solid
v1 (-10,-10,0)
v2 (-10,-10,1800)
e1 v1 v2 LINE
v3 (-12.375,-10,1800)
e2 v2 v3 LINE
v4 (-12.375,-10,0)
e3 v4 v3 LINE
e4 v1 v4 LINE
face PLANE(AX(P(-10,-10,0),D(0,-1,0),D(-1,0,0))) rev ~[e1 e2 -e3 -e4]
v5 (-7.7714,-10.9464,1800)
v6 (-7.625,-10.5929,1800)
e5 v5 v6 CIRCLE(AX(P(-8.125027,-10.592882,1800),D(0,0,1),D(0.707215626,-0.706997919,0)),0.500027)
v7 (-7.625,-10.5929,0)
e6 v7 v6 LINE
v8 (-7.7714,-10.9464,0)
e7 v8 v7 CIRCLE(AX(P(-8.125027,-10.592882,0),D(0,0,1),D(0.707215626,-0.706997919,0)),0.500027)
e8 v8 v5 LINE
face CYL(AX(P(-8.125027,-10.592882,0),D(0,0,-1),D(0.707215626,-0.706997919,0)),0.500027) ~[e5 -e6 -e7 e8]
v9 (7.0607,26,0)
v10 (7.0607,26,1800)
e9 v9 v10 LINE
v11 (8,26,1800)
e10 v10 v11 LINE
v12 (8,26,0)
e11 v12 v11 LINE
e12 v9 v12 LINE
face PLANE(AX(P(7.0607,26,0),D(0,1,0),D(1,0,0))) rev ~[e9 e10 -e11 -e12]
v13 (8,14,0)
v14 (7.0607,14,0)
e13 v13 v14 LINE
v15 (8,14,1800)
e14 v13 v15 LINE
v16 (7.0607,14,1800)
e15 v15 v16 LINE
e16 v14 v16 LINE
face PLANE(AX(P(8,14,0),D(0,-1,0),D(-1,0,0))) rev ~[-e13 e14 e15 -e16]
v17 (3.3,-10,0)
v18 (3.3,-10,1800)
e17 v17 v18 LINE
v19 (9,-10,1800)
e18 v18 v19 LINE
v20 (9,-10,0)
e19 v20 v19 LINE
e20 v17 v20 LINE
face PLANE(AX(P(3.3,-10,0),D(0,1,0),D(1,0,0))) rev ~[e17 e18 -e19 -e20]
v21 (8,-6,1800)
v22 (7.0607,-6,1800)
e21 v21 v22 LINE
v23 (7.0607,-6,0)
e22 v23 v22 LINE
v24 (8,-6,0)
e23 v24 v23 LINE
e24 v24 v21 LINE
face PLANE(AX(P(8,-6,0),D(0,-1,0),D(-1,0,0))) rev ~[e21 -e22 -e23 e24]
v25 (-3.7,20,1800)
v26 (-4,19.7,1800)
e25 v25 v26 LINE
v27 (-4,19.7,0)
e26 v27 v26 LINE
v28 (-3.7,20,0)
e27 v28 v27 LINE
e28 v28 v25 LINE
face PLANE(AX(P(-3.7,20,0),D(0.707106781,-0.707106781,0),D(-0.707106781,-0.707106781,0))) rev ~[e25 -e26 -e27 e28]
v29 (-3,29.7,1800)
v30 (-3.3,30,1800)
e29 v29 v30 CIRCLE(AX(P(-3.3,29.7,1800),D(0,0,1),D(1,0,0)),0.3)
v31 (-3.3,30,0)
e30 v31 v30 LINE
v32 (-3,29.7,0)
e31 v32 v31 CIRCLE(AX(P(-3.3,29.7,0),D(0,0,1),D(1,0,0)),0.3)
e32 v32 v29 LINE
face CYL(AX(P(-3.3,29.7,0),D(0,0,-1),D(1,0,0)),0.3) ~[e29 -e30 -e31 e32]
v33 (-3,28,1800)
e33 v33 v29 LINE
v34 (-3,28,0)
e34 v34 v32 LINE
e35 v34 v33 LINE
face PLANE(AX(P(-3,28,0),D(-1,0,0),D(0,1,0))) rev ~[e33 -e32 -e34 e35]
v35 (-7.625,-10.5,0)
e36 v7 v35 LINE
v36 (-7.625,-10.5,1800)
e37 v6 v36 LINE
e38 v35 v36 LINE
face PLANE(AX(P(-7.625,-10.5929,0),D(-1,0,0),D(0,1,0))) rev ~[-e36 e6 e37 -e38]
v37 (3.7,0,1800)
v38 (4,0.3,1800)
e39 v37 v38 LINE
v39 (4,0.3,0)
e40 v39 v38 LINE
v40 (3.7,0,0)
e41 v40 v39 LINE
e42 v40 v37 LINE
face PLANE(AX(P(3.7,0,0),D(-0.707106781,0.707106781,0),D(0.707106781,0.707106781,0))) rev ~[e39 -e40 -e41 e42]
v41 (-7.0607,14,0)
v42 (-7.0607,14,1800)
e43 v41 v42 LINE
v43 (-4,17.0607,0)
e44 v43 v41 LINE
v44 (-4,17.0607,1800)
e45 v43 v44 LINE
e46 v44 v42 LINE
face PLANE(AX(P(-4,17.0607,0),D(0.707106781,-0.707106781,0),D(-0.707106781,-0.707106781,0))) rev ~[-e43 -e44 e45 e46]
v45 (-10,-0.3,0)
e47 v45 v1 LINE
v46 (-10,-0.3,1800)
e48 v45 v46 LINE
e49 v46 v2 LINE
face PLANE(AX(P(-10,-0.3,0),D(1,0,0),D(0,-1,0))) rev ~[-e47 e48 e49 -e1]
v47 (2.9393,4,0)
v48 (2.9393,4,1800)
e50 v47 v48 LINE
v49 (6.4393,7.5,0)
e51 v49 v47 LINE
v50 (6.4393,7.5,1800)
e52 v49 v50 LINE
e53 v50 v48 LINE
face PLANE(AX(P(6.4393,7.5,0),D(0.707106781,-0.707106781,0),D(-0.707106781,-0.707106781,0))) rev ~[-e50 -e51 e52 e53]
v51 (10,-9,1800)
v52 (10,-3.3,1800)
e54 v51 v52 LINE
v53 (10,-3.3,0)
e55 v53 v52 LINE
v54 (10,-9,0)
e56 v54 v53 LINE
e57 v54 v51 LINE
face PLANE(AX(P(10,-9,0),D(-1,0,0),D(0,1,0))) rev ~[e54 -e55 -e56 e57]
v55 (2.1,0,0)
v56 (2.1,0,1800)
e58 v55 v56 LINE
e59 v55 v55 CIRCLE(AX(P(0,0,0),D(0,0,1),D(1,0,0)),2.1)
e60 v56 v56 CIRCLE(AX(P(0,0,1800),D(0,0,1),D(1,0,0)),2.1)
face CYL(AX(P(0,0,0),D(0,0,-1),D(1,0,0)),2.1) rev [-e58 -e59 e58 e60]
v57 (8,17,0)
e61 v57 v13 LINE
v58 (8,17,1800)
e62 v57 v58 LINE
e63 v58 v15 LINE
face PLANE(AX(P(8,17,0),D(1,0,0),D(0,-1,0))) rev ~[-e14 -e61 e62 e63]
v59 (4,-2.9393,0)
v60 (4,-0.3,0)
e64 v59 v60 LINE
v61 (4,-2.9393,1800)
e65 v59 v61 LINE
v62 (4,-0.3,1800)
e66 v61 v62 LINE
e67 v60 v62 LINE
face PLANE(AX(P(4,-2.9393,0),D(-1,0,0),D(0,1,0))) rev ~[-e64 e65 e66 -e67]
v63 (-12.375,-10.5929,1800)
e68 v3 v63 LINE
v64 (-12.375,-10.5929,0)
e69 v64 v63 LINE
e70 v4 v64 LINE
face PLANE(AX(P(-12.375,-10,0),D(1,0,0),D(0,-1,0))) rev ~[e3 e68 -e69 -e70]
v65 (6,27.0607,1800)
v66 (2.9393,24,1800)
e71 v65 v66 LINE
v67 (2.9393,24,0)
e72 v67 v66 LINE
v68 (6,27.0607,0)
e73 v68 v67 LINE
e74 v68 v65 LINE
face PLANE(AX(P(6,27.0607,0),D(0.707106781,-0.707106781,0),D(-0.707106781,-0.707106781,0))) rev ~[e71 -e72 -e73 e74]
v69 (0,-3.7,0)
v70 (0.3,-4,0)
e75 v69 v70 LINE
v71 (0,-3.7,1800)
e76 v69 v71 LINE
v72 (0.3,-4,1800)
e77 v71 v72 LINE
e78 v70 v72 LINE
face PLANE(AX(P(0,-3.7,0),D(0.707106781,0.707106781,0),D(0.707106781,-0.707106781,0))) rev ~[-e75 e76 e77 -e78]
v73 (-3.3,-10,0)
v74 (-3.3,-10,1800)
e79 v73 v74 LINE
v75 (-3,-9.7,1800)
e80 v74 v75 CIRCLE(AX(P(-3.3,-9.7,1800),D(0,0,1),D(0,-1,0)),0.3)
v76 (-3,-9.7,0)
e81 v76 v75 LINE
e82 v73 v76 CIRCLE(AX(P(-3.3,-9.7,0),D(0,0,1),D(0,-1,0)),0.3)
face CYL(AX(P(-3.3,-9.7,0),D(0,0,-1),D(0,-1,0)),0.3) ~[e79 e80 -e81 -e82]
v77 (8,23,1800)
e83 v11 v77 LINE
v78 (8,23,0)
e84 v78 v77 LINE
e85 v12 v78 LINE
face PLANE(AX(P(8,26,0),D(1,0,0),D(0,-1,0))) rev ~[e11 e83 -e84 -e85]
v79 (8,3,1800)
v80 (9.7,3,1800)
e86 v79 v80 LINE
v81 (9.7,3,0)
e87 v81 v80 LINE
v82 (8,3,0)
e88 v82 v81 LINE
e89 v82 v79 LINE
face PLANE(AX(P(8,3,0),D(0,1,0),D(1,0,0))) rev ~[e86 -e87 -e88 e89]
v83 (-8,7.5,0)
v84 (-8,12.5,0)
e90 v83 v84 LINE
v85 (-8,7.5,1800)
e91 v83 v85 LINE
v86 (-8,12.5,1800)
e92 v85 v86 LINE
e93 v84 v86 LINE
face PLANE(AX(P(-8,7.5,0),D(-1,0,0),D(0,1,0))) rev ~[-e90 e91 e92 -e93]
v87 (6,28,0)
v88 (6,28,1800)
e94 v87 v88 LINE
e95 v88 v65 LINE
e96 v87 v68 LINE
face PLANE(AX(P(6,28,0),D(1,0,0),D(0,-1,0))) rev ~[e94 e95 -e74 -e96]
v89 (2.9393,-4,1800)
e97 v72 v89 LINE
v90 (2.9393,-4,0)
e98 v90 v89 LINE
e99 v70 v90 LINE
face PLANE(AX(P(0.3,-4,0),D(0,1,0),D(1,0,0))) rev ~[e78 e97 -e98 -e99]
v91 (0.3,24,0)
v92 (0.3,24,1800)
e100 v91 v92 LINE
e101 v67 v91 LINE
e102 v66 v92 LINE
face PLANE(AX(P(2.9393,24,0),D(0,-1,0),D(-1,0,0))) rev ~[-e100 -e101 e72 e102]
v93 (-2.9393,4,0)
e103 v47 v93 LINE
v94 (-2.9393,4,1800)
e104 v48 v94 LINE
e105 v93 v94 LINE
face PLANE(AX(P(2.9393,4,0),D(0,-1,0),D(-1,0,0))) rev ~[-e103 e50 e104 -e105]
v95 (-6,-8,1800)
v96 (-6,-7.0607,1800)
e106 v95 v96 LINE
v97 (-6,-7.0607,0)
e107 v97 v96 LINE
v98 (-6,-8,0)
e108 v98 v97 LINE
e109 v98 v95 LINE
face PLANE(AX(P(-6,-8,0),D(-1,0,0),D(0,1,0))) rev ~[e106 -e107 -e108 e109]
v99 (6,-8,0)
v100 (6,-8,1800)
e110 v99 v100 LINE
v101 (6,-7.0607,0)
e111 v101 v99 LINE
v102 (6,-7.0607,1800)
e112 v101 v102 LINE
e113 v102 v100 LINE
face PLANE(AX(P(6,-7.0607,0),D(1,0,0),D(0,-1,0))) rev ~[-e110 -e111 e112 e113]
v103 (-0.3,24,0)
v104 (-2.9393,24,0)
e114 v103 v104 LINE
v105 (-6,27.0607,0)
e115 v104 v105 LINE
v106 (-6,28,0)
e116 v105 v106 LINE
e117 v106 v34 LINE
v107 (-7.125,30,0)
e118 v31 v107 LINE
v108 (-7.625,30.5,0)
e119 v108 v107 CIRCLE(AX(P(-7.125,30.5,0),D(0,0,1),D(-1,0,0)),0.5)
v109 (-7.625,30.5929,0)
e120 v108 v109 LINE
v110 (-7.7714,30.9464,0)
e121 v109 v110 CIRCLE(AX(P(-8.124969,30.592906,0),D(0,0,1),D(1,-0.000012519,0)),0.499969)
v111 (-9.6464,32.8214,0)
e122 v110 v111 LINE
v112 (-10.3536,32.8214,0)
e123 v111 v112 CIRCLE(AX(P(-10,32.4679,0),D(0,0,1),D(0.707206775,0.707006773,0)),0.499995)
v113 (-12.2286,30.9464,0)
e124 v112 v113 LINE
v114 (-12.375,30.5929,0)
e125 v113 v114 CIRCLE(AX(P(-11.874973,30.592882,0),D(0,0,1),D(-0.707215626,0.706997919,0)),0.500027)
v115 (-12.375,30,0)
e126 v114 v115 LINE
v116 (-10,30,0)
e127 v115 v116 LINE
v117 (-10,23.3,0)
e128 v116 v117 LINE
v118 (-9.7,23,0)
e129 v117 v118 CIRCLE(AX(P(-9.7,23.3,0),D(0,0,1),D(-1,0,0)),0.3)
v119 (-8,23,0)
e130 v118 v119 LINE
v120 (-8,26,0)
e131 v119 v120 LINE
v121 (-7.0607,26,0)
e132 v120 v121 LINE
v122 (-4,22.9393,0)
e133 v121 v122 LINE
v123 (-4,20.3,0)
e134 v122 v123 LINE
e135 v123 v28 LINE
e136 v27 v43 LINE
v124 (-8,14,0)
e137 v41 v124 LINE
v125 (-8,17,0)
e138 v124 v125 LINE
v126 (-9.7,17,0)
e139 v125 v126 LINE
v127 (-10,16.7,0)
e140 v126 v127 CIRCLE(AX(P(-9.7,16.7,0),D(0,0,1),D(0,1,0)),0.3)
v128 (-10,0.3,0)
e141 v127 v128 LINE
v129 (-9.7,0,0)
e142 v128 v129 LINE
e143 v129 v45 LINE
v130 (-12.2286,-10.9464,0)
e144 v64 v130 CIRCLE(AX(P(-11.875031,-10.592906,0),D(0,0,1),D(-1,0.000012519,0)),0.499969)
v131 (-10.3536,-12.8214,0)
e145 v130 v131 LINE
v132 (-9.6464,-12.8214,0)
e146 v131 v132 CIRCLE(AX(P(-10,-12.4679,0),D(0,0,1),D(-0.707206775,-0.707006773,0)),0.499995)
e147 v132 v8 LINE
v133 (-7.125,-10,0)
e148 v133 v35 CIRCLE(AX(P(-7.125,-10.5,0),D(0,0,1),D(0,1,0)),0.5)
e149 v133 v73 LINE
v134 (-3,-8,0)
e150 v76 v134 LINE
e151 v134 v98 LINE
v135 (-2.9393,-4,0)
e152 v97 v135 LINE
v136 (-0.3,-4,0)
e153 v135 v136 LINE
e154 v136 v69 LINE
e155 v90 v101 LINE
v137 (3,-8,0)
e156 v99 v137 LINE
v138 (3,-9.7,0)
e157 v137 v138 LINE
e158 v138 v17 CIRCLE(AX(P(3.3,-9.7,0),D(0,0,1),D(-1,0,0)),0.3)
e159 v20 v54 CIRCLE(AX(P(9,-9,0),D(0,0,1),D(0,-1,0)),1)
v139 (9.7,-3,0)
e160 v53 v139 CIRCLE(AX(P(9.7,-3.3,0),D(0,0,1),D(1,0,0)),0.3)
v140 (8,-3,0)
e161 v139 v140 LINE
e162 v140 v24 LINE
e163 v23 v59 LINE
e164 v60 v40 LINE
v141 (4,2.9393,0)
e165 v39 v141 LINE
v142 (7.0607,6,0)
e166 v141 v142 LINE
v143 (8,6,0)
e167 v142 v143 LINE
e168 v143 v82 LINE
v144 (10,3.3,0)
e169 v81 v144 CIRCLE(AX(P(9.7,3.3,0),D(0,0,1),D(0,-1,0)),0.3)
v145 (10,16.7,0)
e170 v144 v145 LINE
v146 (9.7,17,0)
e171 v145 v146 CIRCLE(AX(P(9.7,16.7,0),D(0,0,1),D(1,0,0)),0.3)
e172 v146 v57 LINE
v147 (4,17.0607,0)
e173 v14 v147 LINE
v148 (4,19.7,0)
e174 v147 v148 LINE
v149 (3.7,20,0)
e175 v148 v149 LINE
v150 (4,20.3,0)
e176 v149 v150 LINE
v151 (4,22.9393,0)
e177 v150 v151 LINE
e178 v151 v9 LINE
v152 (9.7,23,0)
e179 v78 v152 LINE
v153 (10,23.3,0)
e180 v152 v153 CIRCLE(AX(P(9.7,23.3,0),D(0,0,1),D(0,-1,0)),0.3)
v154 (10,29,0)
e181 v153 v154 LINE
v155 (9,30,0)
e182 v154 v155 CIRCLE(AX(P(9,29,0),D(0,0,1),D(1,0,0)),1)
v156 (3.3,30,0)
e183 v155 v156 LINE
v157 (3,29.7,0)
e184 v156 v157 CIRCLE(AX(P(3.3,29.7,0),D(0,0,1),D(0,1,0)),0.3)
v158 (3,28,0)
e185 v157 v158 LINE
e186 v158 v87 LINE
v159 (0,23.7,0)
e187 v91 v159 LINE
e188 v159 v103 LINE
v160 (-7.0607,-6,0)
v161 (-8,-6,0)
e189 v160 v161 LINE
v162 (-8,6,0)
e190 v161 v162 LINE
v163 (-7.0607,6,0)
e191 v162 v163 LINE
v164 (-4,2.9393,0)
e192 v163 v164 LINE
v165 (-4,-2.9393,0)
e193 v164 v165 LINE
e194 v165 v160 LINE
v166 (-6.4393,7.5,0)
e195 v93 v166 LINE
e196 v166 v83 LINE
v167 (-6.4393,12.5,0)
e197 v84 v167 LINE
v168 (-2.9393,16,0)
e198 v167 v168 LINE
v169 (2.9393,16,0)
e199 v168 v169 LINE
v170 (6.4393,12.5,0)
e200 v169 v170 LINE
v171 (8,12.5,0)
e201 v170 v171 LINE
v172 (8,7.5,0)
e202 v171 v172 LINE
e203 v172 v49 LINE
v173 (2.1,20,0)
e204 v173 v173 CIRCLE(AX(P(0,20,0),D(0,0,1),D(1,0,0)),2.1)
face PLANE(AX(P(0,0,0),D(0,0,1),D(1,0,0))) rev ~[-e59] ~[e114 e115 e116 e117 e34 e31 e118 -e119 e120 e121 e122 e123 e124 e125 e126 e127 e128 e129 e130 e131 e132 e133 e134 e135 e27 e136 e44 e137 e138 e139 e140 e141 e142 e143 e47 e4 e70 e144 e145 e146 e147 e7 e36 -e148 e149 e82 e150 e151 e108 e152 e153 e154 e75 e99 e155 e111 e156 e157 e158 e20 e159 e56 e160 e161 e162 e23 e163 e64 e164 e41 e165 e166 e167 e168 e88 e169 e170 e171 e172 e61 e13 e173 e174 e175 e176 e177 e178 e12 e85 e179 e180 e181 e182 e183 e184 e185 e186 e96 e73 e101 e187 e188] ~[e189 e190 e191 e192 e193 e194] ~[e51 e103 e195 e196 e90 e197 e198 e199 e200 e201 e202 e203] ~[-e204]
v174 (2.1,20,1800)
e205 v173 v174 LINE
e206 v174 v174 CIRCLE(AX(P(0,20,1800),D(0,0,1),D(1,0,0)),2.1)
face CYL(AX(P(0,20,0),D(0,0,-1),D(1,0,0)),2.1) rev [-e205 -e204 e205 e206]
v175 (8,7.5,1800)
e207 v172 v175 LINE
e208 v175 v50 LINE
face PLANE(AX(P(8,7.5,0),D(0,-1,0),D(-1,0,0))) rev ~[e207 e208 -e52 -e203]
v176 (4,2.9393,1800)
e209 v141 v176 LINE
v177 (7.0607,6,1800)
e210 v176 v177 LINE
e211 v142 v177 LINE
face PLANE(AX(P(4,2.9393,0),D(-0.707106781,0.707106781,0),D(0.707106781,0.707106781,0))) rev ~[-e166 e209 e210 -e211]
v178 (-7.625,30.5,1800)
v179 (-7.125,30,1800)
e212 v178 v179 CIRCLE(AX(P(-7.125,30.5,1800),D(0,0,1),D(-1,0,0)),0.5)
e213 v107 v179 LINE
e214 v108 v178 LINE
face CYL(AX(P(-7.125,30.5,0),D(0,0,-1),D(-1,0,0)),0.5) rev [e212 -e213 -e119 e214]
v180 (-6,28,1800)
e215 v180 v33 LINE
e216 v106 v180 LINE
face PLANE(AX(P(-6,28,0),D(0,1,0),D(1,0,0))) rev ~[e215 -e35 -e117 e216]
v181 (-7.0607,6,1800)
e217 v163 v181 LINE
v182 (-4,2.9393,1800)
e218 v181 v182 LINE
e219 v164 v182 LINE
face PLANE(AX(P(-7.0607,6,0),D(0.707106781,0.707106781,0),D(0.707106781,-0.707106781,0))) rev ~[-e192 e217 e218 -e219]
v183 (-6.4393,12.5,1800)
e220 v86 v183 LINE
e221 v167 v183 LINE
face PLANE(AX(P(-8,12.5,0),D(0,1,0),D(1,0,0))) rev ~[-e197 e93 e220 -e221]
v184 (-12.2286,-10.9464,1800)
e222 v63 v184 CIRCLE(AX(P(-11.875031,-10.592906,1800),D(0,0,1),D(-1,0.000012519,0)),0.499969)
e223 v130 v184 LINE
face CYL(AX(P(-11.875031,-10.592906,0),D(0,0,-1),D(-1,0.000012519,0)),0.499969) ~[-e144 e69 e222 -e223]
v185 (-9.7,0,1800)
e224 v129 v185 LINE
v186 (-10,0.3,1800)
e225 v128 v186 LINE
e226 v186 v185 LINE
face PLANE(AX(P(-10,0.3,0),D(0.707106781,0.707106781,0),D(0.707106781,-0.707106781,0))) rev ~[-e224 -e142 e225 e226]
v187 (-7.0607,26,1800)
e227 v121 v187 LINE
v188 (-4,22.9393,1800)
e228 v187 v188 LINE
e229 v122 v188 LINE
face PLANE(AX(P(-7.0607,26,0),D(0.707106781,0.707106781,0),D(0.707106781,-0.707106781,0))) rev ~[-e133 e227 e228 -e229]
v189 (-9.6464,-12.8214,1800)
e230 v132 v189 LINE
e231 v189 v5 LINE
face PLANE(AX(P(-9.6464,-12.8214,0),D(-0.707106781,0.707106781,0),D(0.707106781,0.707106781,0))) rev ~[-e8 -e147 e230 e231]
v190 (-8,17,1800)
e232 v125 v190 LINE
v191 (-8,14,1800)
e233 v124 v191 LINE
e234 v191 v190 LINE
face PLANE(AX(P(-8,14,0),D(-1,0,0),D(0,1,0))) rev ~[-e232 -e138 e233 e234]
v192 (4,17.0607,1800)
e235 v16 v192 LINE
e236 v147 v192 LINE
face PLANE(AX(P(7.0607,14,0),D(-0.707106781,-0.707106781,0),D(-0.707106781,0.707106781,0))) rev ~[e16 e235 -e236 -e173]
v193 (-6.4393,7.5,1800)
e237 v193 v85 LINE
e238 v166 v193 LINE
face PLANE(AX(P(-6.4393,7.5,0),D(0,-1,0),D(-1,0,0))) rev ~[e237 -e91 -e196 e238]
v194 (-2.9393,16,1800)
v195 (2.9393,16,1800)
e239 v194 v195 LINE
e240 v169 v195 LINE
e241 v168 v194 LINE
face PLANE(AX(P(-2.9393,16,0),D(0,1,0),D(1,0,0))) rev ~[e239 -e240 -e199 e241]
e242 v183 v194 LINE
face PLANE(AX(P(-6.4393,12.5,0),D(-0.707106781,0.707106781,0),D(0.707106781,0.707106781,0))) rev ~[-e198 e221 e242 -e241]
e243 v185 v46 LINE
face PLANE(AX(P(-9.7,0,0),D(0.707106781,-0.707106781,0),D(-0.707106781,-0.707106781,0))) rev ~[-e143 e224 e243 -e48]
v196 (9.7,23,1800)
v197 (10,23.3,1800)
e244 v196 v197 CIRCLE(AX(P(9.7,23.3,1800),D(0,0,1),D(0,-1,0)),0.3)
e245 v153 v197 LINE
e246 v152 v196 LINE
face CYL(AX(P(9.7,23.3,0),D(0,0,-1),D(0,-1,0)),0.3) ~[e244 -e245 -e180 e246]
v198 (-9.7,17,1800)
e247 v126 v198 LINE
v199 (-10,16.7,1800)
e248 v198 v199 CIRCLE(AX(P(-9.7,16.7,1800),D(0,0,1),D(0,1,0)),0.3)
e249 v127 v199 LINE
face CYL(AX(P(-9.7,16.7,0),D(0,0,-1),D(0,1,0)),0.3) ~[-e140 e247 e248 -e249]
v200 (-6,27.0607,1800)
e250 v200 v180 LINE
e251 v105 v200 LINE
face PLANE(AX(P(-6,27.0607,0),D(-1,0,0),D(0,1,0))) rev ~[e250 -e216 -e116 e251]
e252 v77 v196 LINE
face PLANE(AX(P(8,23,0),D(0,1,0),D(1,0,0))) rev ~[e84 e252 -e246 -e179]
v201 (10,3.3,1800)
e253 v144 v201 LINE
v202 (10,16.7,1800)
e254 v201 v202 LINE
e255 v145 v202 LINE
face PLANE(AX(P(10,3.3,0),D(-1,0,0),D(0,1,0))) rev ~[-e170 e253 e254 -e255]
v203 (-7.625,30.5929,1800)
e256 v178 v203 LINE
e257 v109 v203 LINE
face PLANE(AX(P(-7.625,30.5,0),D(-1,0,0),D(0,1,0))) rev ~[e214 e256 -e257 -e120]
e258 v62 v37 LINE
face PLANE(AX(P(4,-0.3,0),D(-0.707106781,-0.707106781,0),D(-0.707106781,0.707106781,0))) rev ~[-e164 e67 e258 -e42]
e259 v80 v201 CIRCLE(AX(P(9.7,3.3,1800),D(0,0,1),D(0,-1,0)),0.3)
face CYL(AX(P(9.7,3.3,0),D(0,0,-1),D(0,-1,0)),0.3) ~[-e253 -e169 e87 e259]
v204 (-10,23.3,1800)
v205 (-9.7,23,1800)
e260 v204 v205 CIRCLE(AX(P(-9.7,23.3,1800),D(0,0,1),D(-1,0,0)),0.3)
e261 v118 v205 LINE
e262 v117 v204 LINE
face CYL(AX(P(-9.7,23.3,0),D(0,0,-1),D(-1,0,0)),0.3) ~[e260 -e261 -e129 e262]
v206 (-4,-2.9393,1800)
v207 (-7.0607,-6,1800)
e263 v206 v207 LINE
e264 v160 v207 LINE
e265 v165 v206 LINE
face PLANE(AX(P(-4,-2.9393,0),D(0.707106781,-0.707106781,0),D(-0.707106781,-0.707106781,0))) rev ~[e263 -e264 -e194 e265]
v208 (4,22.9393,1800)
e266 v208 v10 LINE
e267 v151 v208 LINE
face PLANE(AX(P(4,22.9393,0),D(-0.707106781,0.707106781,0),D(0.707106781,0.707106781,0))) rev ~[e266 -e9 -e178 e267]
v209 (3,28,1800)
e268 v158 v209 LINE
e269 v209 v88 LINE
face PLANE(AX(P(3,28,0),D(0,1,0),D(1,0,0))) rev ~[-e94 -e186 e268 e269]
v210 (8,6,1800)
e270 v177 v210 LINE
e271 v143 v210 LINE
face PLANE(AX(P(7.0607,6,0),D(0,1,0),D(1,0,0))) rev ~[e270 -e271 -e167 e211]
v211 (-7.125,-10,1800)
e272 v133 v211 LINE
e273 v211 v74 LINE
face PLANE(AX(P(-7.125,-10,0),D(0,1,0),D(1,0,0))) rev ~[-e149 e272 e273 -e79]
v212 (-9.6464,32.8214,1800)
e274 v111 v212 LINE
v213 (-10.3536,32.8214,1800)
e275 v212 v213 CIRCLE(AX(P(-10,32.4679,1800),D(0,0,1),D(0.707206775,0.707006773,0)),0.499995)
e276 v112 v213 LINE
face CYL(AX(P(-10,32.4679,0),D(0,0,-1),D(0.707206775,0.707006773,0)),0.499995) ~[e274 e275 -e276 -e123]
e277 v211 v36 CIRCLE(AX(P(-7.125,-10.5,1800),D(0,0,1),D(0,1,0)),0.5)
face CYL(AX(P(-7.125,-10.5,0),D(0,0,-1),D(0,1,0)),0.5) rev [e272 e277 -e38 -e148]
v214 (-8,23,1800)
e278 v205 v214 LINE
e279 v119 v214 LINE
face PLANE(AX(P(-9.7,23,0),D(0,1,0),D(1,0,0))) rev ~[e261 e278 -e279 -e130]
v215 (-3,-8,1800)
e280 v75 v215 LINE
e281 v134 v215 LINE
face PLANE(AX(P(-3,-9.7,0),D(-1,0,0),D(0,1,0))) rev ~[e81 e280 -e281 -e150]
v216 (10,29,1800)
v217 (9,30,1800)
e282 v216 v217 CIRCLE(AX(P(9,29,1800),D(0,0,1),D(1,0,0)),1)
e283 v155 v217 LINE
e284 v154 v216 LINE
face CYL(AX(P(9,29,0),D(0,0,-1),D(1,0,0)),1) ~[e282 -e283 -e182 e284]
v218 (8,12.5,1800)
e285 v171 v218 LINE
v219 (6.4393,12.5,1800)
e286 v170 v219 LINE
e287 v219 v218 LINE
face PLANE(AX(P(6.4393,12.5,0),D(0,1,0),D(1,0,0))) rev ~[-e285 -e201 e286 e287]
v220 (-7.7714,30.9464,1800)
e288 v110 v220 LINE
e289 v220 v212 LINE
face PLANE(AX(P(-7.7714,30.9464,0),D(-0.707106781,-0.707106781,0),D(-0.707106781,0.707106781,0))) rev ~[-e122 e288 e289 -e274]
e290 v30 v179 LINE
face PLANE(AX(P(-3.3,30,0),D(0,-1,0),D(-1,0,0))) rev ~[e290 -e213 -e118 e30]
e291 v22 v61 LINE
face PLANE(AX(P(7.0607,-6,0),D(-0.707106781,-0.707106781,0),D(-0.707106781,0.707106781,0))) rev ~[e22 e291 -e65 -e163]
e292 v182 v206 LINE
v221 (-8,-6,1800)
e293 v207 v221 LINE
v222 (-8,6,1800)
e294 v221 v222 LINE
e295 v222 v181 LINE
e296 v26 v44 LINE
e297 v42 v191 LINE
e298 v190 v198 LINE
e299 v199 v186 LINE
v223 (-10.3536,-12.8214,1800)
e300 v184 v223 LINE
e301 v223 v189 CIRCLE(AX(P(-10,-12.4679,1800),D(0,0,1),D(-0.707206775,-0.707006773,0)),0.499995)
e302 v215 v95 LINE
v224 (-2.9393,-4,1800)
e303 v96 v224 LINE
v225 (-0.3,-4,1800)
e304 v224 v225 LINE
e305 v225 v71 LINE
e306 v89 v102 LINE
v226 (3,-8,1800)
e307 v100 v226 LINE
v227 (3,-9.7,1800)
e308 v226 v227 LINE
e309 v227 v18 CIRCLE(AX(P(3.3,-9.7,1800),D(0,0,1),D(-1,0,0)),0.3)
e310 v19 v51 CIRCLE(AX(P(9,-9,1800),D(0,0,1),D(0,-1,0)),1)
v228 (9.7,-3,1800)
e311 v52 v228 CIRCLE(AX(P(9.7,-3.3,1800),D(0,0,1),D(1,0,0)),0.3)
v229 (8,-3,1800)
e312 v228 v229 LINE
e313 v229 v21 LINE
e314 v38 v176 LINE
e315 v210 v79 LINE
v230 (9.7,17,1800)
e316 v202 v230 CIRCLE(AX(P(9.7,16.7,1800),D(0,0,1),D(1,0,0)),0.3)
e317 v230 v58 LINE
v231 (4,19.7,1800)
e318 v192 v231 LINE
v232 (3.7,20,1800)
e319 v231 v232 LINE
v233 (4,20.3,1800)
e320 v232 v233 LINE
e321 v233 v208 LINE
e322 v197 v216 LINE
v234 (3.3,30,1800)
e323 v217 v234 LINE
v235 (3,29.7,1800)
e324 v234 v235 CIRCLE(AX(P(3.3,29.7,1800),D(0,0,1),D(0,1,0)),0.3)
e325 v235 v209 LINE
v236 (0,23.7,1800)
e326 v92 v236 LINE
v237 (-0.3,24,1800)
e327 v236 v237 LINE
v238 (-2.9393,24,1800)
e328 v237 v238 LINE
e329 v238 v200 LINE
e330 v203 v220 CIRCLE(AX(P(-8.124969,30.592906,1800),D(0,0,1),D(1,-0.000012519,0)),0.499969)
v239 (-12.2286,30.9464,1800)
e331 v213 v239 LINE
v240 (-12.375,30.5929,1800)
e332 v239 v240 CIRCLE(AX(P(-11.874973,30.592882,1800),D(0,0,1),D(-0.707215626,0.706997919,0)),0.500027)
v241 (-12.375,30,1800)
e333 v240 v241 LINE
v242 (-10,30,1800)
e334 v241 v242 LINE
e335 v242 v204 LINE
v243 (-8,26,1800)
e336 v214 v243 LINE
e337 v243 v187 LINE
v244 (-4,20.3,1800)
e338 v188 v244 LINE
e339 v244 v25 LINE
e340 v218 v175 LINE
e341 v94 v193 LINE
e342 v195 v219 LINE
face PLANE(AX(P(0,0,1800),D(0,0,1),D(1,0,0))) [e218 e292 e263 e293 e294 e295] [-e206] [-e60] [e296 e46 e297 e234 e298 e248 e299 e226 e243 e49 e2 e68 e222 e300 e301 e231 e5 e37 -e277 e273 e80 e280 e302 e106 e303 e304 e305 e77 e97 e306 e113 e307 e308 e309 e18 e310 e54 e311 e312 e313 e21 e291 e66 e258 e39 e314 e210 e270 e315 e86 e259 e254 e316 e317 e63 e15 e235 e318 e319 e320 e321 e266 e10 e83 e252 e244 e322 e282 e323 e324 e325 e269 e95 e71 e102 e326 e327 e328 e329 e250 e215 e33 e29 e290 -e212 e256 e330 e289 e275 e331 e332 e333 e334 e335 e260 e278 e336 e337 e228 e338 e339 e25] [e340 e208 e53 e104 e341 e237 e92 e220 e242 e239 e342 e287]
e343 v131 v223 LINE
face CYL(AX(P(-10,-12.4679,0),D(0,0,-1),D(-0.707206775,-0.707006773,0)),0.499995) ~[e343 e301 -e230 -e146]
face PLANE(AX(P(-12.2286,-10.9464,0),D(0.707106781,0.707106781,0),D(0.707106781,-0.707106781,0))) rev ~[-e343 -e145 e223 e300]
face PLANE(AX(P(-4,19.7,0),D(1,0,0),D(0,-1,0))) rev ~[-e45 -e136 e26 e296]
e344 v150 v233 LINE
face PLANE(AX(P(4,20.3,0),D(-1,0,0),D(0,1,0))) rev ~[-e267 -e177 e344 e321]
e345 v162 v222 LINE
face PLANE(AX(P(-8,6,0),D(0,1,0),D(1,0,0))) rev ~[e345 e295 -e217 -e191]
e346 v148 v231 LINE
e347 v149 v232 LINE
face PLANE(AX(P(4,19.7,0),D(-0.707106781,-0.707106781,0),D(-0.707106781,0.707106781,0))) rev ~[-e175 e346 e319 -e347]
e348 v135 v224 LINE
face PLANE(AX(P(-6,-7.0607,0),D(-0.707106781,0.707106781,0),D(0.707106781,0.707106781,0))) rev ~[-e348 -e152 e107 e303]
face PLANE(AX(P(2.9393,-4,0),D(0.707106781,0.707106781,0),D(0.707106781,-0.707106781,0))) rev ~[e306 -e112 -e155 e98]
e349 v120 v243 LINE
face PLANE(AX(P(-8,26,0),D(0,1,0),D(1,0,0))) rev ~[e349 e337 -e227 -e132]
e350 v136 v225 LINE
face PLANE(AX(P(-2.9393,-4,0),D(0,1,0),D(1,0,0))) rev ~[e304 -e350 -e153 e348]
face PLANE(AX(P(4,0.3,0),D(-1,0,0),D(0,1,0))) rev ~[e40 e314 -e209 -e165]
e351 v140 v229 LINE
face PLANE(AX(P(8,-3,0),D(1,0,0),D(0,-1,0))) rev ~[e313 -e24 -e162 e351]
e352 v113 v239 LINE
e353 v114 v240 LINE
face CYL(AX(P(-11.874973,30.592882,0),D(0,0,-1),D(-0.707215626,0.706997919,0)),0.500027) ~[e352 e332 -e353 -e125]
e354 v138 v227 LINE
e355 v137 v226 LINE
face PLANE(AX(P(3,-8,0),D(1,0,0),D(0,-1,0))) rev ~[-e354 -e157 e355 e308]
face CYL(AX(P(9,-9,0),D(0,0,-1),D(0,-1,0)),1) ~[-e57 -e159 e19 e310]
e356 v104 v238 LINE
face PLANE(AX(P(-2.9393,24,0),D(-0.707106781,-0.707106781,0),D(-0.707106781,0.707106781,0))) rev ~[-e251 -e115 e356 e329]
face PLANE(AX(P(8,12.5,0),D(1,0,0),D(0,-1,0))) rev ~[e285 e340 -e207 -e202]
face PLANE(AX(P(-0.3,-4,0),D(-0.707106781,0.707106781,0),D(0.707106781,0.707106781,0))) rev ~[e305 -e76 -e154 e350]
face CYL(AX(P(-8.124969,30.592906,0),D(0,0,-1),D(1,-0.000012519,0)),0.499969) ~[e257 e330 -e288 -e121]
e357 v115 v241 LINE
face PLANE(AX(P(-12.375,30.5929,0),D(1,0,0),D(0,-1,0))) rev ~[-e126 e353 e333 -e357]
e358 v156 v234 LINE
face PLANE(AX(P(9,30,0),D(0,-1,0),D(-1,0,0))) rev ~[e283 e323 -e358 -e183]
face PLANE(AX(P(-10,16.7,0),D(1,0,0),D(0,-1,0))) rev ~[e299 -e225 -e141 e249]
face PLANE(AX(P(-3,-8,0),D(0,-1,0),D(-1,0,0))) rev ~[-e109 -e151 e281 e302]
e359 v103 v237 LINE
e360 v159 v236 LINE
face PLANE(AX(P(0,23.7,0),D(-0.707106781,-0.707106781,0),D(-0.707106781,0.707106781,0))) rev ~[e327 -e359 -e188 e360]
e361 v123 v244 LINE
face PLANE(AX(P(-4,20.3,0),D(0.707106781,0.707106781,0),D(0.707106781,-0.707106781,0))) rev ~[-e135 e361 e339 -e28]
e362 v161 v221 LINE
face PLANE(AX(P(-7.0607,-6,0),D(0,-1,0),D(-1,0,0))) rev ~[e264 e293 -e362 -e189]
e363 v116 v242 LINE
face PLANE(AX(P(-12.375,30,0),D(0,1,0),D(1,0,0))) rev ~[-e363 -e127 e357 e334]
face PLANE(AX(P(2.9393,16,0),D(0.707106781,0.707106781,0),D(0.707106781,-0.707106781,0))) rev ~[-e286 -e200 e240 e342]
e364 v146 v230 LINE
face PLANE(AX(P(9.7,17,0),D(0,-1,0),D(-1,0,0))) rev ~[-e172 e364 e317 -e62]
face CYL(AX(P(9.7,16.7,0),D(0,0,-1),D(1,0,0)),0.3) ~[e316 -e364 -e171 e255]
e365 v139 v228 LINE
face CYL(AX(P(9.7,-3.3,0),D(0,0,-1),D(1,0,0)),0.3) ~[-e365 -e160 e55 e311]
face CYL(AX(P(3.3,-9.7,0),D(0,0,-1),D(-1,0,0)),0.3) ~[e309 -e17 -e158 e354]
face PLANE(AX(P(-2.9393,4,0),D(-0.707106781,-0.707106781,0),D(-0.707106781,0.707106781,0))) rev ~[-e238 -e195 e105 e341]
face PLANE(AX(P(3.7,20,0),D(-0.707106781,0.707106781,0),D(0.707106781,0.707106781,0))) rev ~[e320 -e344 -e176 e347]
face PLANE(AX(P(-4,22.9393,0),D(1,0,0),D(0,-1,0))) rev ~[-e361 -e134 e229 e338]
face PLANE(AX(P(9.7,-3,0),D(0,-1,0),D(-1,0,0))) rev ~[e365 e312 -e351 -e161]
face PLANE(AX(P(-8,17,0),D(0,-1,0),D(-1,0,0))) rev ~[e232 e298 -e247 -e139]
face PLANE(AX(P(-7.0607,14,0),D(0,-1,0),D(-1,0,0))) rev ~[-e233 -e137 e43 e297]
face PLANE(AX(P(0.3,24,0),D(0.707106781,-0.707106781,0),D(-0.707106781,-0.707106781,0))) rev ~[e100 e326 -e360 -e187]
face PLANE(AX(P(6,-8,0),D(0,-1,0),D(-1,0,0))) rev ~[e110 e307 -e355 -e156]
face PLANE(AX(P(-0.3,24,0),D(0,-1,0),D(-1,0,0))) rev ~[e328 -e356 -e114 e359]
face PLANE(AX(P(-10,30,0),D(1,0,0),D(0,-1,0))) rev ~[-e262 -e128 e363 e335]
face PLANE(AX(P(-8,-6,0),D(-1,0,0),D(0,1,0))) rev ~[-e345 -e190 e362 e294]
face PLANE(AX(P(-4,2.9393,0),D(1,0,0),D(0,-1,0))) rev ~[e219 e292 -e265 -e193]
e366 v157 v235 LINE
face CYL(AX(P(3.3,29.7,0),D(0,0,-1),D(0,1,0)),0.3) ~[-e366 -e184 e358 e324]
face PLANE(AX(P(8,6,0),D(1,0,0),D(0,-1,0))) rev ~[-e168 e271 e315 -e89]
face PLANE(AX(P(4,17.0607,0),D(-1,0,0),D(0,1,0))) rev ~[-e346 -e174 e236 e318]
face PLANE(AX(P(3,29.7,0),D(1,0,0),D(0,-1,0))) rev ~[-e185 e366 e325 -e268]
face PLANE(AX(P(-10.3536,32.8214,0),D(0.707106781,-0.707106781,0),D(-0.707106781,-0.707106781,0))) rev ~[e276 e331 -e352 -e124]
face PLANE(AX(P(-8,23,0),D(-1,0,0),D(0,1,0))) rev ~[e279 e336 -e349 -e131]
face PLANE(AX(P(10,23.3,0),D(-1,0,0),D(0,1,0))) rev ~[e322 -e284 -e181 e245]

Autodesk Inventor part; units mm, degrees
ref_plane "YZ Plane" through (0, 0, 0) normal (1, 0, 0) x (0, 1, 0)
ref_plane "XZ Plane" through (0, 0, 0) normal (0, 1, 0) x (-1, 0, 0)
ref_plane "XY Plane" through (0, 0, 0) normal (0, 0, 1) x (1, 0, 0)
sketch "Sketch1" plane through (0, 0, 0) normal (0, 0, 1) x (1, 0, 0)
  arc A0 (-12.375, -10.5929) -> (-12.2286, -10.9464) centre (-11.875, -10.5929) ccw
  line L0 (-12.2286, -10.9464) -> (-10.3536, -12.8214)
  arc A1 (-10.3536, -12.8214) -> (-9.6464, -12.8214) centre (-10, -12.4679) ccw
  line L1 (-9.6464, -12.8214) -> (-7.7714, -10.9464)
  arc A2 (-7.7714, -10.9464) -> (-7.625, -10.5929) centre (-8.125, -10.5929) ccw
  line L2 (-7.625, -10.5929) -> (-7.625, -10.5)
  arc A3 (-7.125, -10) -> (-7.625, -10.5) centre (-7.125, -10.5) ccw
  line L3 (-7.125, -10) -> (-3.3, -10)
  arc A4 (-3.3, -10) -> (-3, -9.7) centre (-3.3, -9.7) ccw
  line L4 (-3, -9.7) -> (-3, -8)
  line L5 (-3, -8) -> (-6, -8)
  line L6 (-6, -8) -> (-6, -7.0607)
  line L7 (-6, -7.0607) -> (-2.9393, -4)
  line L8 (-2.9393, -4) -> (-0.3, -4)
  line L9 (-0.3, -4) -> (0, -3.7)
  line L10 (0, -3.7) -> (0.3, -4)
  line L11 (0.3, -4) -> (2.9393, -4)
  line L12 (2.9393, -4) -> (6, -7.0607)
  line L13 (6, -7.0607) -> (6, -8)
  line L14 (6, -8) -> (3, -8)
  line L15 (3, -8) -> (3, -9.7)
  arc A5 (3, -9.7) -> (3.3, -10) centre (3.3, -9.7) ccw
  line L16 (3.3, -10) -> (9, -10)
  arc A6 (9, -10) -> (10, -9) centre (9, -9) ccw
  line L17 (10, -9) -> (10, -3.3)
  arc A7 (10, -3.3) -> (9.7, -3) centre (9.7, -3.3) ccw
  line L18 (9.7, -3) -> (8, -3)
  line L19 (8, -3) -> (8, -6)
  line L20 (8, -6) -> (7.0607, -6)
  line L21 (7.0607, -6) -> (4, -2.9393)
  line L22 (4, -2.9393) -> (4, -0.3)
  line L23 (4, -0.3) -> (3.7, 0)
  line L24 (3.7, 0) -> (4, 0.3)
  line L25 (4, 0.3) -> (4, 2.9393)
  line L26 (4, 2.9393) -> (7.0607, 6)
  line L27 (7.0607, 6) -> (8, 6)
  line L28 (8, 6) -> (8, 3)
  line L29 (8, 3) -> (9.7, 3)
  arc A8 (9.7, 3) -> (10, 3.3) centre (9.7, 3.3) ccw
  line L30 (10, 3.3) -> (10, 16.7)
  arc A9 (10, 16.7) -> (9.7, 17) centre (9.7, 16.7) ccw
  line L31 (9.7, 17) -> (8, 17)
  line L32 (8, 17) -> (8, 14)
  line L33 (8, 14) -> (7.0607, 14)
  line L34 (7.0607, 14) -> (4, 17.0607)
  line L35 (4, 17.0607) -> (4, 19.7)
  line L36 (4, 19.7) -> (3.7, 20)
  line L37 (3.7, 20) -> (4, 20.3)
  line L38 (4, 20.3) -> (4, 22.9393)
  line L39 (4, 22.9393) -> (7.0607, 26)
  line L40 (7.0607, 26) -> (8, 26)
  line L41 (8, 26) -> (8, 23)
  line L42 (8, 23) -> (9.7, 23)
  arc A10 (9.7, 23) -> (10, 23.3) centre (9.7, 23.3) ccw
  line L43 (10, 23.3) -> (10, 29)
  arc A11 (10, 29) -> (9, 30) centre (9, 29) ccw
  line L44 (9, 30) -> (3.3, 30)
  arc A12 (3.3, 30) -> (3, 29.7) centre (3.3, 29.7) ccw
  line L45 (3, 29.7) -> (3, 28)
  line L46 (3, 28) -> (6, 28)
  line L47 (6, 28) -> (6, 27.0607)
  line L48 (6, 27.0607) -> (2.9393, 24)
  line L49 (2.9393, 24) -> (0.3, 24)
  line L50 (0.3, 24) -> (0, 23.7)
  line L51 (0, 23.7) -> (-0.3, 24)
  line L52 (-0.3, 24) -> (-2.9393, 24)
  line L53 (-2.9393, 24) -> (-6, 27.0607)
  line L54 (-6, 27.0607) -> (-6, 28)
  line L55 (-6, 28) -> (-3, 28)
  line L56 (-3, 28) -> (-3, 29.7)
  arc A13 (-3, 29.7) -> (-3.3, 30) centre (-3.3, 29.7) ccw
  line L57 (-3.3, 30) -> (-7.125, 30)
  arc A14 (-7.625, 30.5) -> (-7.125, 30) centre (-7.125, 30.5) ccw
  line L58 (-7.625, 30.5) -> (-7.625, 30.5929)
  arc A15 (-7.625, 30.5929) -> (-7.7714, 30.9464) centre (-8.125, 30.5929) ccw
  line L59 (-7.7714, 30.9464) -> (-9.6464, 32.8214)
  arc A16 (-9.6464, 32.8214) -> (-10.3536, 32.8214) centre (-10, 32.4679) ccw
  line L60 (-10.3536, 32.8214) -> (-12.2286, 30.9464)
  arc A17 (-12.2286, 30.9464) -> (-12.375, 30.5929) centre (-11.875, 30.5929) ccw
  line L61 (-12.375, 30.5929) -> (-12.375, 30)
  line L62 (-12.375, 30) -> (-10, 30)
  line L63 (-10, 30) -> (-10, 23.3)
  arc A18 (-10, 23.3) -> (-9.7, 23) centre (-9.7, 23.3) ccw
  line L64 (-9.7, 23) -> (-8, 23)
  line L65 (-8, 23) -> (-8, 26)
  line L66 (-8, 26) -> (-7.0607, 26)
  line L67 (-7.0607, 26) -> (-4, 22.9393)
  line L68 (-4, 22.9393) -> (-4, 20.3)
  line L69 (-4, 20.3) -> (-3.7, 20)
  line L70 (-3.7, 20) -> (-4, 19.7)
  line L71 (-4, 19.7) -> (-4, 17.0607)
  line L72 (-4, 17.0607) -> (-7.0607, 14)
  line L73 (-7.0607, 14) -> (-8, 14)
  line L74 (-8, 14) -> (-8, 17)
  line L75 (-8, 17) -> (-9.7, 17)
  arc A19 (-9.7, 17) -> (-10, 16.7) centre (-9.7, 16.7) ccw
  line L76 (-10, 16.7) -> (-10, 0.3)
  line L77 (-10, 0.3) -> (-9.7, 0)
  line L78 (-9.7, 0) -> (-10, -0.3)
  line L79 (-10, -0.3) -> (-10, -10)
  line L80 (-10, -10) -> (-12.375, -10)
  line L81 (-12.375, -10) -> (-12.375, -10.5929)
  line L82 (6.4393, 12.5) -> (8, 12.5)
  line L83 (8, 12.5) -> (8, 7.5)
  line L84 (8, 7.5) -> (6.4393, 7.5)
  line L85 (6.4393, 7.5) -> (2.9393, 4)
  line L86 (2.9393, 4) -> (-2.9393, 4)
  line L87 (-2.9393, 4) -> (-6.4393, 7.5)
  line L88 (-6.4393, 7.5) -> (-8, 7.5)
  line L89 (-8, 7.5) -> (-8, 12.5)
  line L90 (-8, 12.5) -> (-6.4393, 12.5)
  line L91 (-6.4393, 12.5) -> (-2.9393, 16)
  line L92 (-2.9393, 16) -> (2.9393, 16)
  line L93 (2.9393, 16) -> (6.4393, 12.5)
  line L94 (-7.0607, -6) -> (-8, -6)
  line L95 (-8, -6) -> (-8, 6)
  line L96 (-8, 6) -> (-7.0607, 6)
  line L97 (-7.0607, 6) -> (-4, 2.9393)
  line L98 (-4, 2.9393) -> (-4, -2.9393)
  line L99 (-4, -2.9393) -> (-7.0607, -6)
  circle A20 centre (0, 20) radius 2.1
  circle A21 centre (0, 0) radius 2.1
extrude "Extrusion1" add sketch "Sketch1" along normal blind 1800
properties part number "makerslide_1800"
